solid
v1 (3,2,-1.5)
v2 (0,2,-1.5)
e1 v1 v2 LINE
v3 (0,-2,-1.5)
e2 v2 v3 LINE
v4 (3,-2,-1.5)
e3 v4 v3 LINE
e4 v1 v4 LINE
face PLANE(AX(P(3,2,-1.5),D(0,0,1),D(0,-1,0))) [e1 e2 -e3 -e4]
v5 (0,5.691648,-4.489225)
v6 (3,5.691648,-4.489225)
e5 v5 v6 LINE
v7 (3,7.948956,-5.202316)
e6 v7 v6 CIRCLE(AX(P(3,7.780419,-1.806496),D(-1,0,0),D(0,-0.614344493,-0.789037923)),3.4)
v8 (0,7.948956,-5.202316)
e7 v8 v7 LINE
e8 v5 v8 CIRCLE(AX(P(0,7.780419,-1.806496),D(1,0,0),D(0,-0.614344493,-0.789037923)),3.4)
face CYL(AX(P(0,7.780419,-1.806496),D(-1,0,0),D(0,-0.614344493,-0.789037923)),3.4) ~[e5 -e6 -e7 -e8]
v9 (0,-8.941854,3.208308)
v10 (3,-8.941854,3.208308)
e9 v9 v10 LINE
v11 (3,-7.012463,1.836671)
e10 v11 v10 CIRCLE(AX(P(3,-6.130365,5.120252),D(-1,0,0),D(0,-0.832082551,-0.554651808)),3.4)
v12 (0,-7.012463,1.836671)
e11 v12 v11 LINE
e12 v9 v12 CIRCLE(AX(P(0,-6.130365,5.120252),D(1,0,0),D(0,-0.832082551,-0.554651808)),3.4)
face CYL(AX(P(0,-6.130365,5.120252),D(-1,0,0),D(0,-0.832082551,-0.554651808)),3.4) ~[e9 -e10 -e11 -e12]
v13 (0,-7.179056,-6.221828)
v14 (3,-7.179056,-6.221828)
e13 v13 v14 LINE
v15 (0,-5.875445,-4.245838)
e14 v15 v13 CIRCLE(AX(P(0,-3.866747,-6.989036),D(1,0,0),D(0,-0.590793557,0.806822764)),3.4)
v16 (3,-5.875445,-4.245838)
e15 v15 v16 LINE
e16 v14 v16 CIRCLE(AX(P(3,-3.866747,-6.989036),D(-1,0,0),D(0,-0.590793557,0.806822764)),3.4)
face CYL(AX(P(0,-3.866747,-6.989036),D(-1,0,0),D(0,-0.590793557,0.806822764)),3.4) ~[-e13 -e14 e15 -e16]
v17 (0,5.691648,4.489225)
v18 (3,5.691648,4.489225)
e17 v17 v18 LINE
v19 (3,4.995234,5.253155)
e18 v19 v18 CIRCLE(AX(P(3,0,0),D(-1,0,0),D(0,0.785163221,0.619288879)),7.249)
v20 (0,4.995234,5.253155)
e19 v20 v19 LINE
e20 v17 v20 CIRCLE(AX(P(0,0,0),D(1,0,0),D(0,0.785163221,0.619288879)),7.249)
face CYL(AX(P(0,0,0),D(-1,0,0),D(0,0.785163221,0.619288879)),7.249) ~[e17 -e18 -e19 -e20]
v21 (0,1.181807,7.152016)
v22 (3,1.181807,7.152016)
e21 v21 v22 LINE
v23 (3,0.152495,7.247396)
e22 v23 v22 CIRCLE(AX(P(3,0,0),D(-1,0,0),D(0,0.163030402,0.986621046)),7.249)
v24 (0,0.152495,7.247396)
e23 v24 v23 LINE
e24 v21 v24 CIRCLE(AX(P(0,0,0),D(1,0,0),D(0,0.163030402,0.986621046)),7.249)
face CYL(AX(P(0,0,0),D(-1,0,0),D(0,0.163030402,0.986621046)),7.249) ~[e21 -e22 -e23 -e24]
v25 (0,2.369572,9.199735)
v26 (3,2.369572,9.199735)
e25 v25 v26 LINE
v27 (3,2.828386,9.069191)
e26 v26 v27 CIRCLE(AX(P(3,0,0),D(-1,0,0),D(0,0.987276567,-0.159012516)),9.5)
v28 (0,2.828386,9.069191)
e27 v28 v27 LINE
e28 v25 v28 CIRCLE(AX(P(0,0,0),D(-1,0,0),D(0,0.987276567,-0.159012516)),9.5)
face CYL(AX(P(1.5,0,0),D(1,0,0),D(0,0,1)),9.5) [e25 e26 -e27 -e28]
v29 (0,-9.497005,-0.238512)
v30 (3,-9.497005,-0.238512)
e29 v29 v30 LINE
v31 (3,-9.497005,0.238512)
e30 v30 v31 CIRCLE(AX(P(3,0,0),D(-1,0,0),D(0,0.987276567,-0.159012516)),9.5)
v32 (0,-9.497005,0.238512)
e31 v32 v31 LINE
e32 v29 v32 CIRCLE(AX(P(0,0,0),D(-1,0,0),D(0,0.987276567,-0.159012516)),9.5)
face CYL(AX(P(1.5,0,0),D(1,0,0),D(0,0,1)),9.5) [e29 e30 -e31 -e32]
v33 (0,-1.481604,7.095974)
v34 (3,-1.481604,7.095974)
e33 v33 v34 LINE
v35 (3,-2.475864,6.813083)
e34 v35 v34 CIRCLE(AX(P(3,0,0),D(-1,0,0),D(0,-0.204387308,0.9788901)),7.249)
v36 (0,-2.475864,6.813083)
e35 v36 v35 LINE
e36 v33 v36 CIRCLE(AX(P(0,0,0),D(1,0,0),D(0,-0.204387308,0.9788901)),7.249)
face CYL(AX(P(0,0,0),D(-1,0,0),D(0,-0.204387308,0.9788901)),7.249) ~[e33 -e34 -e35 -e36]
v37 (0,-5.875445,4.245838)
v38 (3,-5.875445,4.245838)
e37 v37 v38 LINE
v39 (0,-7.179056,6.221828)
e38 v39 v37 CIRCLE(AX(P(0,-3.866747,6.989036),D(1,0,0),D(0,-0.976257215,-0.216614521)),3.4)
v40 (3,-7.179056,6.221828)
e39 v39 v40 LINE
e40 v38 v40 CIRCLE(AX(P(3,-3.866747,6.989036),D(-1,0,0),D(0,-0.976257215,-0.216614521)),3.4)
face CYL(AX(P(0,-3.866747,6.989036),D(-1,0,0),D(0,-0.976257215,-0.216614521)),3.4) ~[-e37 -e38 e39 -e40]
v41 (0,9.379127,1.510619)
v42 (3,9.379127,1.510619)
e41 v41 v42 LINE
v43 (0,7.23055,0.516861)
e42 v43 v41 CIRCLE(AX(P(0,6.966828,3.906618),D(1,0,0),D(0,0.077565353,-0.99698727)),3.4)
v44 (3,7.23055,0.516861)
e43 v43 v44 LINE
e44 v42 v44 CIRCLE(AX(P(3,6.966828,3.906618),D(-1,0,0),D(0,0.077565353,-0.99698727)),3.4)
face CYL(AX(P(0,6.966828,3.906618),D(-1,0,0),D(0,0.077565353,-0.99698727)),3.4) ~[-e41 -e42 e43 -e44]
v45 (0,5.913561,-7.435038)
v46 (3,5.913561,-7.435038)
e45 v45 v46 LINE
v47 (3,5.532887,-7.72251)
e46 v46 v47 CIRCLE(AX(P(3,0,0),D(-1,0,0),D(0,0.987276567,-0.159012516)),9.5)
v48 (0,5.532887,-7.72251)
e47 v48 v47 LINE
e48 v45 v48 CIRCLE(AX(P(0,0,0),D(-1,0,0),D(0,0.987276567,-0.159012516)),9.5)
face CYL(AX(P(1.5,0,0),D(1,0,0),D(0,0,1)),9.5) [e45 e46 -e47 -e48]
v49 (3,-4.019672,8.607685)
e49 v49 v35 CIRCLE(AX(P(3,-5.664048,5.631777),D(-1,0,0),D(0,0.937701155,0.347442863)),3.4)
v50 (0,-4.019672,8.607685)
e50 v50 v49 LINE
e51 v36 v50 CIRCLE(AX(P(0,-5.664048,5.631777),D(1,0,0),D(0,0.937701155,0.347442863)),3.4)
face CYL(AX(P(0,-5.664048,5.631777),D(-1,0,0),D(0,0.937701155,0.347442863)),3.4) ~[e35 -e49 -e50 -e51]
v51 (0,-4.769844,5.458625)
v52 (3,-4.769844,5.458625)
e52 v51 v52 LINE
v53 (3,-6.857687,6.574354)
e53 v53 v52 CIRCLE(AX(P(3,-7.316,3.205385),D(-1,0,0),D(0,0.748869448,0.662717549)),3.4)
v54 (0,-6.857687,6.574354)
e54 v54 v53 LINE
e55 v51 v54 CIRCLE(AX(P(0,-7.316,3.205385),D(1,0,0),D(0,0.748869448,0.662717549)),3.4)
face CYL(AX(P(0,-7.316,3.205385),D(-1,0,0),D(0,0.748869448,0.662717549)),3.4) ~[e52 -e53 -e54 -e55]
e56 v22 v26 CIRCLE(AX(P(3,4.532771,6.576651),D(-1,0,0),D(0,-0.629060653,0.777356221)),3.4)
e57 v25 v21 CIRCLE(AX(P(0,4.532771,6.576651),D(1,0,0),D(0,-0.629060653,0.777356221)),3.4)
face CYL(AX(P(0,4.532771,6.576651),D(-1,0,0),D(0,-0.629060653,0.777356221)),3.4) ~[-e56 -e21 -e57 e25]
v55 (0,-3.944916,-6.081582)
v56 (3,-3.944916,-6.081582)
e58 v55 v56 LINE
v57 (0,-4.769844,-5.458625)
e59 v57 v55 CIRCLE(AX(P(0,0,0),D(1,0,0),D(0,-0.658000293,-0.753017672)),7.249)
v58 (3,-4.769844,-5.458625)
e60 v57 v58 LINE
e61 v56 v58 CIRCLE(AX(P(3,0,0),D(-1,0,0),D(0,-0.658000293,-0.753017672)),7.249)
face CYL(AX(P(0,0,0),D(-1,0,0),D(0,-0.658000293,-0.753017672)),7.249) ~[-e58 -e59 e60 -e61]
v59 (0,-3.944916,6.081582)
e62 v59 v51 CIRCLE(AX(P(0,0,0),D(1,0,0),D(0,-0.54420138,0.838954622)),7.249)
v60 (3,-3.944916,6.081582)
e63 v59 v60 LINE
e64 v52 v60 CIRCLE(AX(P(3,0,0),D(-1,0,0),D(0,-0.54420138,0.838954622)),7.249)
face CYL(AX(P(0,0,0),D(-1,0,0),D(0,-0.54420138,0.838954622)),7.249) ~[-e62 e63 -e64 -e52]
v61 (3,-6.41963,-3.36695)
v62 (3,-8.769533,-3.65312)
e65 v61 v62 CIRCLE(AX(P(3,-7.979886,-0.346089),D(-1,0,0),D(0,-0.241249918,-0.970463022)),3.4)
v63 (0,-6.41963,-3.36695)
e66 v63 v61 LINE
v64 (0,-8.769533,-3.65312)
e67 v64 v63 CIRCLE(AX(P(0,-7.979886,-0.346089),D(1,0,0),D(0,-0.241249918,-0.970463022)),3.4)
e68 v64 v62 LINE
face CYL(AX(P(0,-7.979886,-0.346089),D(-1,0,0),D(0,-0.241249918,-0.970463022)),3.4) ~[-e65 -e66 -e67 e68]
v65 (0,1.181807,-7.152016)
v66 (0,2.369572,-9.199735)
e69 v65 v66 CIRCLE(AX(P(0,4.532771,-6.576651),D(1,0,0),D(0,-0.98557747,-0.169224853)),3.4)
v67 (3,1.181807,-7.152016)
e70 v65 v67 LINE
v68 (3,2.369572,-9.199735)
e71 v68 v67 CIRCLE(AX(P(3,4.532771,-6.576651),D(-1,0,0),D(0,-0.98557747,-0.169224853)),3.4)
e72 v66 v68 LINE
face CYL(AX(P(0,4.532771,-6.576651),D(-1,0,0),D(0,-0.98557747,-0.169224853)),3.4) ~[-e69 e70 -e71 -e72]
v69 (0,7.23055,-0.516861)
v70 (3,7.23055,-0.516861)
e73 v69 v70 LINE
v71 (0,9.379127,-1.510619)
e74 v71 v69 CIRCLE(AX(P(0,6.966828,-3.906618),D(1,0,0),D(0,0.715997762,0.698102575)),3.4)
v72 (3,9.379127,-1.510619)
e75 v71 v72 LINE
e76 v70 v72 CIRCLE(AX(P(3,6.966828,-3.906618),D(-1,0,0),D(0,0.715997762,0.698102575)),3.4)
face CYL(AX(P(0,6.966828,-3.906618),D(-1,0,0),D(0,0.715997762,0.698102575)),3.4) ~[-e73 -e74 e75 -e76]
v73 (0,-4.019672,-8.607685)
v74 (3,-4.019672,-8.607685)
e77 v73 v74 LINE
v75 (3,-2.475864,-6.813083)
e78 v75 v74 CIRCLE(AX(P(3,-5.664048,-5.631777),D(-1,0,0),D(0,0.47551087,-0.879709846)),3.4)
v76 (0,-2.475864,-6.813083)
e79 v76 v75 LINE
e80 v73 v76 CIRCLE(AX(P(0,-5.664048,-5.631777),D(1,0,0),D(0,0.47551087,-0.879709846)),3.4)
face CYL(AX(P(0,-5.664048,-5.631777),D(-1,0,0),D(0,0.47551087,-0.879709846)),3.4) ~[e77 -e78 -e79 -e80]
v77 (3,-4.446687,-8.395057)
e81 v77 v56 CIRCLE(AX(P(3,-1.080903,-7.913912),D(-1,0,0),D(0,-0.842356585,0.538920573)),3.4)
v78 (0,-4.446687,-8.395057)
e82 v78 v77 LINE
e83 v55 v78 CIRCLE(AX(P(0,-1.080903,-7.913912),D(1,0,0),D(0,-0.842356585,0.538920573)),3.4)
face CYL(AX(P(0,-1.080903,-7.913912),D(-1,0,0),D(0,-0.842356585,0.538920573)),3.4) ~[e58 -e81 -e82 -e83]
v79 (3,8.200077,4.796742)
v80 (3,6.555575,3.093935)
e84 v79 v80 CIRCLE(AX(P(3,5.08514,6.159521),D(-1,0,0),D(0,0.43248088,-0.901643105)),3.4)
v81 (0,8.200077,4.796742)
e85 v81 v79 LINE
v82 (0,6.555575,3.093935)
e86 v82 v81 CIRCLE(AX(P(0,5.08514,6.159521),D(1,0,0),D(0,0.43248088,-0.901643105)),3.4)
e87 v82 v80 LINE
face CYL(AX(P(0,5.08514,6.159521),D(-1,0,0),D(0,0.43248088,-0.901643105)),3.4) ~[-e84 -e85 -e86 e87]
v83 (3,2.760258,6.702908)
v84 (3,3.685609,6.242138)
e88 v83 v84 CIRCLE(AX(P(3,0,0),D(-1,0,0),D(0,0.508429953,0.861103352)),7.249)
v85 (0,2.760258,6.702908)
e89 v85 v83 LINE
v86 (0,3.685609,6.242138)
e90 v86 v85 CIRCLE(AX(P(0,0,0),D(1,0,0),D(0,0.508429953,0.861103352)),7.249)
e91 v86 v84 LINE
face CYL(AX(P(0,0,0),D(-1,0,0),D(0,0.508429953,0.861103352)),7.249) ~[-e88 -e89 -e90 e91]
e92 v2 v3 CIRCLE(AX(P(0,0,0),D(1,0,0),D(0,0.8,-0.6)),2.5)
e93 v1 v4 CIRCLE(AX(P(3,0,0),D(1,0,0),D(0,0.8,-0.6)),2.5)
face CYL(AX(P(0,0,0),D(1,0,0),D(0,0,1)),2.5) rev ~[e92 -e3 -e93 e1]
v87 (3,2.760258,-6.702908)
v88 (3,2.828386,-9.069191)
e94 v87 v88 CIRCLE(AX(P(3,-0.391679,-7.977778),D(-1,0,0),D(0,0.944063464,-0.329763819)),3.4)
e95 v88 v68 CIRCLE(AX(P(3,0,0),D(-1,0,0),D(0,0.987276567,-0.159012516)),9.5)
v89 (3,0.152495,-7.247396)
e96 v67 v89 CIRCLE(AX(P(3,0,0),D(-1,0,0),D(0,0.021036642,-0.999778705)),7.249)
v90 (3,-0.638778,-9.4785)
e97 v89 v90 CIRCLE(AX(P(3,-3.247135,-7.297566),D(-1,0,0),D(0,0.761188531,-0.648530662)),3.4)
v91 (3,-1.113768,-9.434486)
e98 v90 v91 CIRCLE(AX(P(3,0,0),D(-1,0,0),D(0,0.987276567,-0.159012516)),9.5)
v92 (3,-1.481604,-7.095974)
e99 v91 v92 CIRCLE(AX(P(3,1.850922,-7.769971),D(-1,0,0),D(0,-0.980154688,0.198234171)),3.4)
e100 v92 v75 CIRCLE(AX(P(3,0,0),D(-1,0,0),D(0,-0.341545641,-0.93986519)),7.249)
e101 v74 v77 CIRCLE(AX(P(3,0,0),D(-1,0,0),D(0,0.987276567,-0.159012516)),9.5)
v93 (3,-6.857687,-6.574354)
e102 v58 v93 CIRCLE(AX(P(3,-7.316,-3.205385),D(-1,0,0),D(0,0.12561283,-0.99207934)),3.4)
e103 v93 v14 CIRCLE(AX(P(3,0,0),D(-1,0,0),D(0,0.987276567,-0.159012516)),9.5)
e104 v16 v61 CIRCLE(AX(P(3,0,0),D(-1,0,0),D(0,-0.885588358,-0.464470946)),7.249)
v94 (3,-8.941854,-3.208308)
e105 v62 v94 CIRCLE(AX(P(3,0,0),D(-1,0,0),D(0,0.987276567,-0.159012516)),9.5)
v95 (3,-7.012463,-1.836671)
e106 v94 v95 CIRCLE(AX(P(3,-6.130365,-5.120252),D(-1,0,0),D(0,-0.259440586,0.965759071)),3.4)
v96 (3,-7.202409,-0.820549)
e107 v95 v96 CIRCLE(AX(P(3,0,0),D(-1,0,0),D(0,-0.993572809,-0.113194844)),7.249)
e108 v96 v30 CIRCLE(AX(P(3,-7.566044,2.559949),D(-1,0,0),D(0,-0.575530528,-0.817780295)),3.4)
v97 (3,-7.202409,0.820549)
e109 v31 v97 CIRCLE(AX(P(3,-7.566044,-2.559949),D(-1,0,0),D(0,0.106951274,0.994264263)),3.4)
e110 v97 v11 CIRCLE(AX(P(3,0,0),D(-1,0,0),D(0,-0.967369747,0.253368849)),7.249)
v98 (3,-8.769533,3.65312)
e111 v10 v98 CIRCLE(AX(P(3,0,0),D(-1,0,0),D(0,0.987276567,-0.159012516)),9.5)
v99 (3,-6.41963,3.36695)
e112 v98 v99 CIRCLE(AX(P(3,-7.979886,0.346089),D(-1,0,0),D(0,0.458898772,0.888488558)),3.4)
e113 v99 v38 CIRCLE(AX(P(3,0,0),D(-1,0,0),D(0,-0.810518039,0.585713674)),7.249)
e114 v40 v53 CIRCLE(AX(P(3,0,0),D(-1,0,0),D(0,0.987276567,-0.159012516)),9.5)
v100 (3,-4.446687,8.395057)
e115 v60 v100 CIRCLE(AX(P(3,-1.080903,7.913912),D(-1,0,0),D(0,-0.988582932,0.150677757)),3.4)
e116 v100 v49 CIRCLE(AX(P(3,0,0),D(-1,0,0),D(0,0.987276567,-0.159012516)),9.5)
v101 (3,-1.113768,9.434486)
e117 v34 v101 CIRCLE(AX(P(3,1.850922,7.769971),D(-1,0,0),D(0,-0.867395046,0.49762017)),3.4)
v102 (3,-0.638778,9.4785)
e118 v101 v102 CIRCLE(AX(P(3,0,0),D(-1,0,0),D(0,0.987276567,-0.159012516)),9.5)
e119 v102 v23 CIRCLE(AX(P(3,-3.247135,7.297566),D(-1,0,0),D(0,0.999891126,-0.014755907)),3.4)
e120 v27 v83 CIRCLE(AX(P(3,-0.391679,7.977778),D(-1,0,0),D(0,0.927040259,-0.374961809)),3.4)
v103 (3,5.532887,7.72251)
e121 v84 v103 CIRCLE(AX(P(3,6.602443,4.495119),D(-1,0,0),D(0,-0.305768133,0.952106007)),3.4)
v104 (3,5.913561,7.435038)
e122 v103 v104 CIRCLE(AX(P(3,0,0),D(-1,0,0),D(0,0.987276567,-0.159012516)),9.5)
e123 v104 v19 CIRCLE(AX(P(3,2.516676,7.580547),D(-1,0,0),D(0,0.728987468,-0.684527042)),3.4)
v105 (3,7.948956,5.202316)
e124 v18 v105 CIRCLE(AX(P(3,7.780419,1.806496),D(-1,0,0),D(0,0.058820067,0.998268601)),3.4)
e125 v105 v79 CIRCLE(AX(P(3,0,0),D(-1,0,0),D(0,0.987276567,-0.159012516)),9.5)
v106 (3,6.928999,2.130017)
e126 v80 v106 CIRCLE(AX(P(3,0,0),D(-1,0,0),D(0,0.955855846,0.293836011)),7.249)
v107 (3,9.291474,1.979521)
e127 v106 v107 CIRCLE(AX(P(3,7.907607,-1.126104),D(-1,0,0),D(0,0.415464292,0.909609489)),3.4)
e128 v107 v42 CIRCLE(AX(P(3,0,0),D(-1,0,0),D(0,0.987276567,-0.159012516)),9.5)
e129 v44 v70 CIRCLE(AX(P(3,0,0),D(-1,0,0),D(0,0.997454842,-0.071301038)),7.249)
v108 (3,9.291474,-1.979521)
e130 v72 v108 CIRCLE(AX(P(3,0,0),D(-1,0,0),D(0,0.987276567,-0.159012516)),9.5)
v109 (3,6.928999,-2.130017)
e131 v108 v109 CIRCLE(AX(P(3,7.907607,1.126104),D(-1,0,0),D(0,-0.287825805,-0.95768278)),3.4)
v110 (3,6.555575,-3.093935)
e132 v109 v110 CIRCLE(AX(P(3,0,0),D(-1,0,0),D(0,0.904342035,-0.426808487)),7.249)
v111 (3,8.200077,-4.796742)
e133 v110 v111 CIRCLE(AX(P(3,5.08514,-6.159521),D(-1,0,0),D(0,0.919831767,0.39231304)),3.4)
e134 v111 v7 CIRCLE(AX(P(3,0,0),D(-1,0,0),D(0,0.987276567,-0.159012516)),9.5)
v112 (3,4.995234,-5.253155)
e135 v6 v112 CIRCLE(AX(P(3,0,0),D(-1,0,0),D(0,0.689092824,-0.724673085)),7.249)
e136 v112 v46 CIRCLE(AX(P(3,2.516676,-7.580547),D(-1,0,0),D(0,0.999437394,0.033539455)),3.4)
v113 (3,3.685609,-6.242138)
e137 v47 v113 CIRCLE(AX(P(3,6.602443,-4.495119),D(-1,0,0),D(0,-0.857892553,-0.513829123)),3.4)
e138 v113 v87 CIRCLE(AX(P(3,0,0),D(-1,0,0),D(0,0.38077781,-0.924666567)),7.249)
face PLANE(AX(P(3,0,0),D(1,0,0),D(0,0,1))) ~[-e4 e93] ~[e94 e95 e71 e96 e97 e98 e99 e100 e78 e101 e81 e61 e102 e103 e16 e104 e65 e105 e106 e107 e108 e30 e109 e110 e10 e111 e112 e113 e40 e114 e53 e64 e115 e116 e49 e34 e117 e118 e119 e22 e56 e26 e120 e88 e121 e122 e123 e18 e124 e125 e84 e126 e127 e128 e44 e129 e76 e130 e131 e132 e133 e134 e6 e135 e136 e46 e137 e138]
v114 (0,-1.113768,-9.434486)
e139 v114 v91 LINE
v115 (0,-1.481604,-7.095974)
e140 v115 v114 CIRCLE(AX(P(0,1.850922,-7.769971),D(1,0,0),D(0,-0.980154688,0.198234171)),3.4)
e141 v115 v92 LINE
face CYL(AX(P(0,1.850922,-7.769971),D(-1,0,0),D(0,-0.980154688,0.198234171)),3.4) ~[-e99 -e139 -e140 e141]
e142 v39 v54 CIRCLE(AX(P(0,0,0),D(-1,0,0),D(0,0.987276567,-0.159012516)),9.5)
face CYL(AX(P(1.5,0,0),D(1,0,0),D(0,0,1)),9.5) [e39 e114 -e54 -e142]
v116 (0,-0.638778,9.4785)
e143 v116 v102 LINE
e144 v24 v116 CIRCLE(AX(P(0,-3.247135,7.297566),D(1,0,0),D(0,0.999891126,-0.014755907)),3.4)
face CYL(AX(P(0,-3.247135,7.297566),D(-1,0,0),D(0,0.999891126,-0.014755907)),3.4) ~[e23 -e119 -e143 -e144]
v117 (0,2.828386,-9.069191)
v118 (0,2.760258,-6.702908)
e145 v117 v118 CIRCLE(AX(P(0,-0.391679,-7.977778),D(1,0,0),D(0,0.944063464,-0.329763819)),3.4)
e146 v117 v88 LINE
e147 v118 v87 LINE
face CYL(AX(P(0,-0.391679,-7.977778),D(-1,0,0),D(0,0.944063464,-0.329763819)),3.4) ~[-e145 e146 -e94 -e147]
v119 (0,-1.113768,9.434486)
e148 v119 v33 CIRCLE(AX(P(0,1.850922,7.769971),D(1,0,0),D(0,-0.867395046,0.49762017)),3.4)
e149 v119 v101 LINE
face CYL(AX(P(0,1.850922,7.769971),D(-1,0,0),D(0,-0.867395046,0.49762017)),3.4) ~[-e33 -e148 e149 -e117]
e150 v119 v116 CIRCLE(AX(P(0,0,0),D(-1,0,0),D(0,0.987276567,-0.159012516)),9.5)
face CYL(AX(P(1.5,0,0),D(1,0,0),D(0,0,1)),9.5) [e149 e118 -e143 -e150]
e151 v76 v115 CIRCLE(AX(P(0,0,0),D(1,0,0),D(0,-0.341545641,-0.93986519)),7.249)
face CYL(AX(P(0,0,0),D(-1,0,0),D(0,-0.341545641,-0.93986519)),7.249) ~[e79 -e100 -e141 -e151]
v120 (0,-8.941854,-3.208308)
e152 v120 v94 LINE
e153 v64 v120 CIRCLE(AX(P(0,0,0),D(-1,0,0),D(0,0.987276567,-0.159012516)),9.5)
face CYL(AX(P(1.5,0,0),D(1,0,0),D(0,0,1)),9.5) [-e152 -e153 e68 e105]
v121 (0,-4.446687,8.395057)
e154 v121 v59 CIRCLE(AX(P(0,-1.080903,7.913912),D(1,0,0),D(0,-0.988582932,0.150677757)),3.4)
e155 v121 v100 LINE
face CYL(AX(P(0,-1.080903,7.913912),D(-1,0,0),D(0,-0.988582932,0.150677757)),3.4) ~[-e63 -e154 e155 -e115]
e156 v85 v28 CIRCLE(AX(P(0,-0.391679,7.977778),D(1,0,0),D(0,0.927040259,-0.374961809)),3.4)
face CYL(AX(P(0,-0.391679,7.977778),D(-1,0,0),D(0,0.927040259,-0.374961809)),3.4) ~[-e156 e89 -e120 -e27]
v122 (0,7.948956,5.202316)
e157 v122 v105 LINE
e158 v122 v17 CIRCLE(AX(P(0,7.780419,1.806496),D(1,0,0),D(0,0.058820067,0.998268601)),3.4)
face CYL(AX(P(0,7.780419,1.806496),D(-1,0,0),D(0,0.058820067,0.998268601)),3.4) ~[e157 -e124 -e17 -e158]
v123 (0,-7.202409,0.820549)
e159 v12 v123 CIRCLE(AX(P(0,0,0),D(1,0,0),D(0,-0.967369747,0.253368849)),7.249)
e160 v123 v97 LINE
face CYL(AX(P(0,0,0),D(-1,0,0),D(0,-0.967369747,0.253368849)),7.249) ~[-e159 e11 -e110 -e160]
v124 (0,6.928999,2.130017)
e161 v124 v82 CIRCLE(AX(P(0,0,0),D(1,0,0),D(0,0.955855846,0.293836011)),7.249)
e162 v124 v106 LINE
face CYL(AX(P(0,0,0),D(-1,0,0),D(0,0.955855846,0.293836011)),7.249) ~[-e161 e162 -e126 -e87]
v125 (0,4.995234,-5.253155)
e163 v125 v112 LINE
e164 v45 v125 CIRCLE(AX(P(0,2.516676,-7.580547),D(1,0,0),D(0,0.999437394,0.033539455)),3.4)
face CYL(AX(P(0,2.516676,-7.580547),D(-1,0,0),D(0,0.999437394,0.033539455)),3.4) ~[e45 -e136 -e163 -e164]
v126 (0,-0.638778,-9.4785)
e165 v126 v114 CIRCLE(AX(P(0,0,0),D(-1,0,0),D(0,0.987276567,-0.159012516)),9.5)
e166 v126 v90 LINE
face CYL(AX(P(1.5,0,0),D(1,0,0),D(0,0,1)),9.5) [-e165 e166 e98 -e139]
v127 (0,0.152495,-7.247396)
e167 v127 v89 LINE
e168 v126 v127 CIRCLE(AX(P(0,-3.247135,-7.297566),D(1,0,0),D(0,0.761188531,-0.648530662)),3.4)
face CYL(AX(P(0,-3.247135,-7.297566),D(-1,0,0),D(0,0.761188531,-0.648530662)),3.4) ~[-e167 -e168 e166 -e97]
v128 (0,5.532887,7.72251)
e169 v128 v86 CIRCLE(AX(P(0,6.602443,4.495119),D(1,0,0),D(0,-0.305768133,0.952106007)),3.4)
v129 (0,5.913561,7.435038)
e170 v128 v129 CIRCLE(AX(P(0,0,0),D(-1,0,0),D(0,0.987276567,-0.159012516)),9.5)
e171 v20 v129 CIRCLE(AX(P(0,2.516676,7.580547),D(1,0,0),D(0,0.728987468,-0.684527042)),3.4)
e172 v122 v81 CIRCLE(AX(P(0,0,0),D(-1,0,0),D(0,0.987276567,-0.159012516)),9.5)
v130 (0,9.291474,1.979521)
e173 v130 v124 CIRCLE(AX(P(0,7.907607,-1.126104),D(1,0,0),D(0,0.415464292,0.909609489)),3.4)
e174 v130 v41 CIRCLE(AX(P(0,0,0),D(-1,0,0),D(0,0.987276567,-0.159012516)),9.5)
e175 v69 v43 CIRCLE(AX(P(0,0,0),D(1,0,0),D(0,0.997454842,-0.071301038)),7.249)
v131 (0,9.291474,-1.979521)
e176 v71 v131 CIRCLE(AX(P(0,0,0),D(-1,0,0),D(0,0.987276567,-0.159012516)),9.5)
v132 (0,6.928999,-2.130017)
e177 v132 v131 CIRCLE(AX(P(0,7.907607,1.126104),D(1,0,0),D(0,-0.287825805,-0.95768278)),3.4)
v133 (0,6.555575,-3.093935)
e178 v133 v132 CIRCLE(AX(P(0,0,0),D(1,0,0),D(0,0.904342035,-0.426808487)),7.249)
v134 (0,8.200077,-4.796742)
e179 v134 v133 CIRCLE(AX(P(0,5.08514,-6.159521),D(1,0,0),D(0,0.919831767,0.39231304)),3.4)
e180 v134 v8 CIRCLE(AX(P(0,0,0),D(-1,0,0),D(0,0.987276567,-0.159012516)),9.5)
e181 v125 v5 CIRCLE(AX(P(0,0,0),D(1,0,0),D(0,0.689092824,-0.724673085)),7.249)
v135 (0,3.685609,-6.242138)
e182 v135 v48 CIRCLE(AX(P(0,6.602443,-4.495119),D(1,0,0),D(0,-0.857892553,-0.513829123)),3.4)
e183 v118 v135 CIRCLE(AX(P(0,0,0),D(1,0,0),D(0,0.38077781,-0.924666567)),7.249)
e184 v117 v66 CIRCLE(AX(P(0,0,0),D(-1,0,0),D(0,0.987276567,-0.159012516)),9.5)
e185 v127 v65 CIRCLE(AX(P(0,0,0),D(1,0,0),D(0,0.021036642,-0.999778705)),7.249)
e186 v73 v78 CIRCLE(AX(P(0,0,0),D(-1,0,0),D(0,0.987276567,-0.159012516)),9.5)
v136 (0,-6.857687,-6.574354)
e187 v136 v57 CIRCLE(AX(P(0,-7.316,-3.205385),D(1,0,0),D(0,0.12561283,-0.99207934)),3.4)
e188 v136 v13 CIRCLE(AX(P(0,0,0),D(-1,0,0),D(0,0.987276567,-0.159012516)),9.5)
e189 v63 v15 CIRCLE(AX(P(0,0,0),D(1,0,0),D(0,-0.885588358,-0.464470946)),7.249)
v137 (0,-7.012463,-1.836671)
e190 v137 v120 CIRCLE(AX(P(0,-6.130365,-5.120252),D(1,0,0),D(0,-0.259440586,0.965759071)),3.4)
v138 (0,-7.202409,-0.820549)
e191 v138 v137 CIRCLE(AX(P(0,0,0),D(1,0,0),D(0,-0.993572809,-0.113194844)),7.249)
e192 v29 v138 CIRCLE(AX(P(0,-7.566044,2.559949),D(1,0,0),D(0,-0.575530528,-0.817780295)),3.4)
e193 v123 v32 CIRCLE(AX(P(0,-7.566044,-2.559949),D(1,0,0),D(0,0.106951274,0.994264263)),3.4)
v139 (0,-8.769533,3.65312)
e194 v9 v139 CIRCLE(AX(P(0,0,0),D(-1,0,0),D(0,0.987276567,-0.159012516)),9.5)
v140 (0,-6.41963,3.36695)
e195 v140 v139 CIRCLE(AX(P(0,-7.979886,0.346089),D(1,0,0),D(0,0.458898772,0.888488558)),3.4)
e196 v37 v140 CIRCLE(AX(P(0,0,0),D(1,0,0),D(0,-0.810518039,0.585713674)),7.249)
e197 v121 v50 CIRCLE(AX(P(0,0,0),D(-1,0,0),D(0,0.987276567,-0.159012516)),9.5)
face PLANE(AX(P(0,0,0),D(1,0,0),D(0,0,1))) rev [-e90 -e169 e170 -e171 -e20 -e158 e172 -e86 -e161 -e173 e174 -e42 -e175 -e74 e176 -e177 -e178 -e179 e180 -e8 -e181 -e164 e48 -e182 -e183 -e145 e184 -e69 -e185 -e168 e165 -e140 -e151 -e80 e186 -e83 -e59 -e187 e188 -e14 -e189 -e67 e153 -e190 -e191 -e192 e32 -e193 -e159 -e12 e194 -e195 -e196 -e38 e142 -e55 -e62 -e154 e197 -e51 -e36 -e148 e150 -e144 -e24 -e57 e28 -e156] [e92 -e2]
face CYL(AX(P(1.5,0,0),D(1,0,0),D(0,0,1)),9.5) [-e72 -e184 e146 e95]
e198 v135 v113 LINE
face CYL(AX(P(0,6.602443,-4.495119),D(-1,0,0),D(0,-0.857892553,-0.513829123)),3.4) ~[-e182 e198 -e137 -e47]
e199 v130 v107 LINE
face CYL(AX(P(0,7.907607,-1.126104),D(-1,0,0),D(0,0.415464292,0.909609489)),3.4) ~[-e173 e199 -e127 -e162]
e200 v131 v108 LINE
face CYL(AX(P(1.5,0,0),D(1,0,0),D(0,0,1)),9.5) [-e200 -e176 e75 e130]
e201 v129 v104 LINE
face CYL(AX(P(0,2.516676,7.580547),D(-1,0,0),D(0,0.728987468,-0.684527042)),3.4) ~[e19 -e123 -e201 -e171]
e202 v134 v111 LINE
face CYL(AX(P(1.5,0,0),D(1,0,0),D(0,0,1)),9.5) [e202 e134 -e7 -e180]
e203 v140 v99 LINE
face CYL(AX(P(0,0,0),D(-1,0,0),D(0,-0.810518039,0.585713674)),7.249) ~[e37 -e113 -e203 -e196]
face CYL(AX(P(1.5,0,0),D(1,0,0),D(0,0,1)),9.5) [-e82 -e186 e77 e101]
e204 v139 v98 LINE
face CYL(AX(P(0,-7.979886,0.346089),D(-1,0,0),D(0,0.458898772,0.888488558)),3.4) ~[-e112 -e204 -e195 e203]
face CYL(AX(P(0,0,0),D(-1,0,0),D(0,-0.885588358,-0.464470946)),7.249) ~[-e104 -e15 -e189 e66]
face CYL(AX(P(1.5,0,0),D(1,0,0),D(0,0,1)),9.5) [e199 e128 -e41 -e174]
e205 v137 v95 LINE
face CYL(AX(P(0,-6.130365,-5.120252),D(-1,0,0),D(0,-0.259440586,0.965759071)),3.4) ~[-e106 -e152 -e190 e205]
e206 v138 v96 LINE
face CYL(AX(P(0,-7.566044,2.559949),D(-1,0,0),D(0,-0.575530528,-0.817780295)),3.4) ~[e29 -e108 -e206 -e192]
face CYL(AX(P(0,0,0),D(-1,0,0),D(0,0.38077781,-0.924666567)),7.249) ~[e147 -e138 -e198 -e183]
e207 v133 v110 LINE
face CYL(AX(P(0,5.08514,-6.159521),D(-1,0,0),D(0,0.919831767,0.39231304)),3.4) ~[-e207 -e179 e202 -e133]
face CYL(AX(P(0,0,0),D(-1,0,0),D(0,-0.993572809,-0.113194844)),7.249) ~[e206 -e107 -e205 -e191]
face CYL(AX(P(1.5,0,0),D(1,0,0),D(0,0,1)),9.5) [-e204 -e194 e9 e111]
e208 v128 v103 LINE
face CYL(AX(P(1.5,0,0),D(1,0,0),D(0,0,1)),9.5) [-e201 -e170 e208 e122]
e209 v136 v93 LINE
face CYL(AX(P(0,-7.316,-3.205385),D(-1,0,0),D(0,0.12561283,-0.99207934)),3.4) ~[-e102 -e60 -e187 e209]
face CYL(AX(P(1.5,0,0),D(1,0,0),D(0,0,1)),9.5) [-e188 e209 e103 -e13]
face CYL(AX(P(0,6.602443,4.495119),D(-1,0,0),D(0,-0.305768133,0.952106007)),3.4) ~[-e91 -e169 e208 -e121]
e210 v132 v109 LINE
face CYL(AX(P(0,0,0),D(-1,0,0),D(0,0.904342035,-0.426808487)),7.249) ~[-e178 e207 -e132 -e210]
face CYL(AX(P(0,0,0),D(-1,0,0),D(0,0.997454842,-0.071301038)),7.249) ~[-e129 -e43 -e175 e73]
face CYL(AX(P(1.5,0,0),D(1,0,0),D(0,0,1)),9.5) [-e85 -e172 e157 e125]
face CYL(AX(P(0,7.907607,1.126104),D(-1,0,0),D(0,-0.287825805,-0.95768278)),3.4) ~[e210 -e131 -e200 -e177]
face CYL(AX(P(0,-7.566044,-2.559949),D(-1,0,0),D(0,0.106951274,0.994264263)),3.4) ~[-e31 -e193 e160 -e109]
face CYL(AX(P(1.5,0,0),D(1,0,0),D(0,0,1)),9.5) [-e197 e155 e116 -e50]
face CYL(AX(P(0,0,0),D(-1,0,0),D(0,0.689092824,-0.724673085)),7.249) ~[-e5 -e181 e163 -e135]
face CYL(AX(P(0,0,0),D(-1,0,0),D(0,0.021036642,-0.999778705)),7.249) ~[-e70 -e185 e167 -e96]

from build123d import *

# Parameters (mm, degrees)
BASPROSKE_W     = 3
BASPROSKE_H     = 9.5
TOOTHCUT_DEPTH  = 14.765899898
TEETHCUTS_COUNT = 17
TEETHCUTS_ANGLE = 338.823529412
BORSKE_R        = 2.5
BORE_DEPTH      = 50.0000508
EXTRUDE_1_DEPTH = 3


with BuildPart() as part:
    # BasProSke → Base-Revolve (revolve)
    with BuildSketch(Plane(origin=(0, 0, 0), x_dir=(1, 0, 0), z_dir=(0, 1, 0)), mode=Mode.PRIVATE) as base_revolve_sk:
        with Locations((1.5, 4.75)):
            Rectangle(BASPROSKE_W, BASPROSKE_H)
    revolve(base_revolve_sk.sketch.rotate(Axis((-10, 0, 0), (1, 0, 0)), 180), axis=Axis((-10, 0, 0), (1, 0, 0)))

    # TooCutSke → ToothCut (cut, through all)
    with BuildSketch(Plane(origin=(0, 0, 0), x_dir=(0, 0, -1), z_dir=(1, 0, 0))):
        with BuildLine():
            ThreePointArc((0.516861231, 7.23055015), (0, 7.249), (-0.516861231, 7.23055015))
            ThreePointArc((-0.516861231, 7.23055015), (-0.827352654, 8.408398361), (-1.533069197, 9.401220346))
            ThreePointArc((-1.533069197, 9.401220346), (0, 9.5254), (1.533069197, 9.401220346))
            ThreePointArc((1.533069197, 9.401220346), (0.827352654, 8.408398361), (0.516861231, 7.23055015))
        make_face()
    toothcut = extrude(amount=TOOTHCUT_DEPTH, mode=Mode.SUBTRACT)

    # TeethCuts: ToothCut ×17 about axis
    teethcuts_axis = Axis((-10, 0, 0), (1, 0, 0))
    for i in range(1, TEETHCUTS_COUNT):
        add(toothcut.rotate(teethcuts_axis, i * TEETHCUTS_ANGLE / (TEETHCUTS_COUNT - 1)), mode=Mode.SUBTRACT)

    # BorSke → Bore (cut, symmetric)
    with BuildSketch(Plane(origin=(0, 0, 0), x_dir=(0, 0, -1), z_dir=(1, 0, 0))):
        with Locations(Location((0, 0, 0), (0, 0, 180))):
            Circle(BORSKE_R)
    extrude(amount=BORE_DEPTH, both=True, mode=Mode.SUBTRACT)

    # 草图1 → 凸台-拉伸1 (add)
    with BuildSketch(Plane(origin=(3, 0, 0), x_dir=(0, 0, -1), z_dir=(1, 0, 0))):
        with BuildLine():
            Line((1.5, 2), (1.5, -2))
            ThreePointArc((1.5, -2), (2.5, 0), (1.5, 2))
        make_face()
    extrude(amount=-EXTRUDE_1_DEPTH)


solid = part.part
